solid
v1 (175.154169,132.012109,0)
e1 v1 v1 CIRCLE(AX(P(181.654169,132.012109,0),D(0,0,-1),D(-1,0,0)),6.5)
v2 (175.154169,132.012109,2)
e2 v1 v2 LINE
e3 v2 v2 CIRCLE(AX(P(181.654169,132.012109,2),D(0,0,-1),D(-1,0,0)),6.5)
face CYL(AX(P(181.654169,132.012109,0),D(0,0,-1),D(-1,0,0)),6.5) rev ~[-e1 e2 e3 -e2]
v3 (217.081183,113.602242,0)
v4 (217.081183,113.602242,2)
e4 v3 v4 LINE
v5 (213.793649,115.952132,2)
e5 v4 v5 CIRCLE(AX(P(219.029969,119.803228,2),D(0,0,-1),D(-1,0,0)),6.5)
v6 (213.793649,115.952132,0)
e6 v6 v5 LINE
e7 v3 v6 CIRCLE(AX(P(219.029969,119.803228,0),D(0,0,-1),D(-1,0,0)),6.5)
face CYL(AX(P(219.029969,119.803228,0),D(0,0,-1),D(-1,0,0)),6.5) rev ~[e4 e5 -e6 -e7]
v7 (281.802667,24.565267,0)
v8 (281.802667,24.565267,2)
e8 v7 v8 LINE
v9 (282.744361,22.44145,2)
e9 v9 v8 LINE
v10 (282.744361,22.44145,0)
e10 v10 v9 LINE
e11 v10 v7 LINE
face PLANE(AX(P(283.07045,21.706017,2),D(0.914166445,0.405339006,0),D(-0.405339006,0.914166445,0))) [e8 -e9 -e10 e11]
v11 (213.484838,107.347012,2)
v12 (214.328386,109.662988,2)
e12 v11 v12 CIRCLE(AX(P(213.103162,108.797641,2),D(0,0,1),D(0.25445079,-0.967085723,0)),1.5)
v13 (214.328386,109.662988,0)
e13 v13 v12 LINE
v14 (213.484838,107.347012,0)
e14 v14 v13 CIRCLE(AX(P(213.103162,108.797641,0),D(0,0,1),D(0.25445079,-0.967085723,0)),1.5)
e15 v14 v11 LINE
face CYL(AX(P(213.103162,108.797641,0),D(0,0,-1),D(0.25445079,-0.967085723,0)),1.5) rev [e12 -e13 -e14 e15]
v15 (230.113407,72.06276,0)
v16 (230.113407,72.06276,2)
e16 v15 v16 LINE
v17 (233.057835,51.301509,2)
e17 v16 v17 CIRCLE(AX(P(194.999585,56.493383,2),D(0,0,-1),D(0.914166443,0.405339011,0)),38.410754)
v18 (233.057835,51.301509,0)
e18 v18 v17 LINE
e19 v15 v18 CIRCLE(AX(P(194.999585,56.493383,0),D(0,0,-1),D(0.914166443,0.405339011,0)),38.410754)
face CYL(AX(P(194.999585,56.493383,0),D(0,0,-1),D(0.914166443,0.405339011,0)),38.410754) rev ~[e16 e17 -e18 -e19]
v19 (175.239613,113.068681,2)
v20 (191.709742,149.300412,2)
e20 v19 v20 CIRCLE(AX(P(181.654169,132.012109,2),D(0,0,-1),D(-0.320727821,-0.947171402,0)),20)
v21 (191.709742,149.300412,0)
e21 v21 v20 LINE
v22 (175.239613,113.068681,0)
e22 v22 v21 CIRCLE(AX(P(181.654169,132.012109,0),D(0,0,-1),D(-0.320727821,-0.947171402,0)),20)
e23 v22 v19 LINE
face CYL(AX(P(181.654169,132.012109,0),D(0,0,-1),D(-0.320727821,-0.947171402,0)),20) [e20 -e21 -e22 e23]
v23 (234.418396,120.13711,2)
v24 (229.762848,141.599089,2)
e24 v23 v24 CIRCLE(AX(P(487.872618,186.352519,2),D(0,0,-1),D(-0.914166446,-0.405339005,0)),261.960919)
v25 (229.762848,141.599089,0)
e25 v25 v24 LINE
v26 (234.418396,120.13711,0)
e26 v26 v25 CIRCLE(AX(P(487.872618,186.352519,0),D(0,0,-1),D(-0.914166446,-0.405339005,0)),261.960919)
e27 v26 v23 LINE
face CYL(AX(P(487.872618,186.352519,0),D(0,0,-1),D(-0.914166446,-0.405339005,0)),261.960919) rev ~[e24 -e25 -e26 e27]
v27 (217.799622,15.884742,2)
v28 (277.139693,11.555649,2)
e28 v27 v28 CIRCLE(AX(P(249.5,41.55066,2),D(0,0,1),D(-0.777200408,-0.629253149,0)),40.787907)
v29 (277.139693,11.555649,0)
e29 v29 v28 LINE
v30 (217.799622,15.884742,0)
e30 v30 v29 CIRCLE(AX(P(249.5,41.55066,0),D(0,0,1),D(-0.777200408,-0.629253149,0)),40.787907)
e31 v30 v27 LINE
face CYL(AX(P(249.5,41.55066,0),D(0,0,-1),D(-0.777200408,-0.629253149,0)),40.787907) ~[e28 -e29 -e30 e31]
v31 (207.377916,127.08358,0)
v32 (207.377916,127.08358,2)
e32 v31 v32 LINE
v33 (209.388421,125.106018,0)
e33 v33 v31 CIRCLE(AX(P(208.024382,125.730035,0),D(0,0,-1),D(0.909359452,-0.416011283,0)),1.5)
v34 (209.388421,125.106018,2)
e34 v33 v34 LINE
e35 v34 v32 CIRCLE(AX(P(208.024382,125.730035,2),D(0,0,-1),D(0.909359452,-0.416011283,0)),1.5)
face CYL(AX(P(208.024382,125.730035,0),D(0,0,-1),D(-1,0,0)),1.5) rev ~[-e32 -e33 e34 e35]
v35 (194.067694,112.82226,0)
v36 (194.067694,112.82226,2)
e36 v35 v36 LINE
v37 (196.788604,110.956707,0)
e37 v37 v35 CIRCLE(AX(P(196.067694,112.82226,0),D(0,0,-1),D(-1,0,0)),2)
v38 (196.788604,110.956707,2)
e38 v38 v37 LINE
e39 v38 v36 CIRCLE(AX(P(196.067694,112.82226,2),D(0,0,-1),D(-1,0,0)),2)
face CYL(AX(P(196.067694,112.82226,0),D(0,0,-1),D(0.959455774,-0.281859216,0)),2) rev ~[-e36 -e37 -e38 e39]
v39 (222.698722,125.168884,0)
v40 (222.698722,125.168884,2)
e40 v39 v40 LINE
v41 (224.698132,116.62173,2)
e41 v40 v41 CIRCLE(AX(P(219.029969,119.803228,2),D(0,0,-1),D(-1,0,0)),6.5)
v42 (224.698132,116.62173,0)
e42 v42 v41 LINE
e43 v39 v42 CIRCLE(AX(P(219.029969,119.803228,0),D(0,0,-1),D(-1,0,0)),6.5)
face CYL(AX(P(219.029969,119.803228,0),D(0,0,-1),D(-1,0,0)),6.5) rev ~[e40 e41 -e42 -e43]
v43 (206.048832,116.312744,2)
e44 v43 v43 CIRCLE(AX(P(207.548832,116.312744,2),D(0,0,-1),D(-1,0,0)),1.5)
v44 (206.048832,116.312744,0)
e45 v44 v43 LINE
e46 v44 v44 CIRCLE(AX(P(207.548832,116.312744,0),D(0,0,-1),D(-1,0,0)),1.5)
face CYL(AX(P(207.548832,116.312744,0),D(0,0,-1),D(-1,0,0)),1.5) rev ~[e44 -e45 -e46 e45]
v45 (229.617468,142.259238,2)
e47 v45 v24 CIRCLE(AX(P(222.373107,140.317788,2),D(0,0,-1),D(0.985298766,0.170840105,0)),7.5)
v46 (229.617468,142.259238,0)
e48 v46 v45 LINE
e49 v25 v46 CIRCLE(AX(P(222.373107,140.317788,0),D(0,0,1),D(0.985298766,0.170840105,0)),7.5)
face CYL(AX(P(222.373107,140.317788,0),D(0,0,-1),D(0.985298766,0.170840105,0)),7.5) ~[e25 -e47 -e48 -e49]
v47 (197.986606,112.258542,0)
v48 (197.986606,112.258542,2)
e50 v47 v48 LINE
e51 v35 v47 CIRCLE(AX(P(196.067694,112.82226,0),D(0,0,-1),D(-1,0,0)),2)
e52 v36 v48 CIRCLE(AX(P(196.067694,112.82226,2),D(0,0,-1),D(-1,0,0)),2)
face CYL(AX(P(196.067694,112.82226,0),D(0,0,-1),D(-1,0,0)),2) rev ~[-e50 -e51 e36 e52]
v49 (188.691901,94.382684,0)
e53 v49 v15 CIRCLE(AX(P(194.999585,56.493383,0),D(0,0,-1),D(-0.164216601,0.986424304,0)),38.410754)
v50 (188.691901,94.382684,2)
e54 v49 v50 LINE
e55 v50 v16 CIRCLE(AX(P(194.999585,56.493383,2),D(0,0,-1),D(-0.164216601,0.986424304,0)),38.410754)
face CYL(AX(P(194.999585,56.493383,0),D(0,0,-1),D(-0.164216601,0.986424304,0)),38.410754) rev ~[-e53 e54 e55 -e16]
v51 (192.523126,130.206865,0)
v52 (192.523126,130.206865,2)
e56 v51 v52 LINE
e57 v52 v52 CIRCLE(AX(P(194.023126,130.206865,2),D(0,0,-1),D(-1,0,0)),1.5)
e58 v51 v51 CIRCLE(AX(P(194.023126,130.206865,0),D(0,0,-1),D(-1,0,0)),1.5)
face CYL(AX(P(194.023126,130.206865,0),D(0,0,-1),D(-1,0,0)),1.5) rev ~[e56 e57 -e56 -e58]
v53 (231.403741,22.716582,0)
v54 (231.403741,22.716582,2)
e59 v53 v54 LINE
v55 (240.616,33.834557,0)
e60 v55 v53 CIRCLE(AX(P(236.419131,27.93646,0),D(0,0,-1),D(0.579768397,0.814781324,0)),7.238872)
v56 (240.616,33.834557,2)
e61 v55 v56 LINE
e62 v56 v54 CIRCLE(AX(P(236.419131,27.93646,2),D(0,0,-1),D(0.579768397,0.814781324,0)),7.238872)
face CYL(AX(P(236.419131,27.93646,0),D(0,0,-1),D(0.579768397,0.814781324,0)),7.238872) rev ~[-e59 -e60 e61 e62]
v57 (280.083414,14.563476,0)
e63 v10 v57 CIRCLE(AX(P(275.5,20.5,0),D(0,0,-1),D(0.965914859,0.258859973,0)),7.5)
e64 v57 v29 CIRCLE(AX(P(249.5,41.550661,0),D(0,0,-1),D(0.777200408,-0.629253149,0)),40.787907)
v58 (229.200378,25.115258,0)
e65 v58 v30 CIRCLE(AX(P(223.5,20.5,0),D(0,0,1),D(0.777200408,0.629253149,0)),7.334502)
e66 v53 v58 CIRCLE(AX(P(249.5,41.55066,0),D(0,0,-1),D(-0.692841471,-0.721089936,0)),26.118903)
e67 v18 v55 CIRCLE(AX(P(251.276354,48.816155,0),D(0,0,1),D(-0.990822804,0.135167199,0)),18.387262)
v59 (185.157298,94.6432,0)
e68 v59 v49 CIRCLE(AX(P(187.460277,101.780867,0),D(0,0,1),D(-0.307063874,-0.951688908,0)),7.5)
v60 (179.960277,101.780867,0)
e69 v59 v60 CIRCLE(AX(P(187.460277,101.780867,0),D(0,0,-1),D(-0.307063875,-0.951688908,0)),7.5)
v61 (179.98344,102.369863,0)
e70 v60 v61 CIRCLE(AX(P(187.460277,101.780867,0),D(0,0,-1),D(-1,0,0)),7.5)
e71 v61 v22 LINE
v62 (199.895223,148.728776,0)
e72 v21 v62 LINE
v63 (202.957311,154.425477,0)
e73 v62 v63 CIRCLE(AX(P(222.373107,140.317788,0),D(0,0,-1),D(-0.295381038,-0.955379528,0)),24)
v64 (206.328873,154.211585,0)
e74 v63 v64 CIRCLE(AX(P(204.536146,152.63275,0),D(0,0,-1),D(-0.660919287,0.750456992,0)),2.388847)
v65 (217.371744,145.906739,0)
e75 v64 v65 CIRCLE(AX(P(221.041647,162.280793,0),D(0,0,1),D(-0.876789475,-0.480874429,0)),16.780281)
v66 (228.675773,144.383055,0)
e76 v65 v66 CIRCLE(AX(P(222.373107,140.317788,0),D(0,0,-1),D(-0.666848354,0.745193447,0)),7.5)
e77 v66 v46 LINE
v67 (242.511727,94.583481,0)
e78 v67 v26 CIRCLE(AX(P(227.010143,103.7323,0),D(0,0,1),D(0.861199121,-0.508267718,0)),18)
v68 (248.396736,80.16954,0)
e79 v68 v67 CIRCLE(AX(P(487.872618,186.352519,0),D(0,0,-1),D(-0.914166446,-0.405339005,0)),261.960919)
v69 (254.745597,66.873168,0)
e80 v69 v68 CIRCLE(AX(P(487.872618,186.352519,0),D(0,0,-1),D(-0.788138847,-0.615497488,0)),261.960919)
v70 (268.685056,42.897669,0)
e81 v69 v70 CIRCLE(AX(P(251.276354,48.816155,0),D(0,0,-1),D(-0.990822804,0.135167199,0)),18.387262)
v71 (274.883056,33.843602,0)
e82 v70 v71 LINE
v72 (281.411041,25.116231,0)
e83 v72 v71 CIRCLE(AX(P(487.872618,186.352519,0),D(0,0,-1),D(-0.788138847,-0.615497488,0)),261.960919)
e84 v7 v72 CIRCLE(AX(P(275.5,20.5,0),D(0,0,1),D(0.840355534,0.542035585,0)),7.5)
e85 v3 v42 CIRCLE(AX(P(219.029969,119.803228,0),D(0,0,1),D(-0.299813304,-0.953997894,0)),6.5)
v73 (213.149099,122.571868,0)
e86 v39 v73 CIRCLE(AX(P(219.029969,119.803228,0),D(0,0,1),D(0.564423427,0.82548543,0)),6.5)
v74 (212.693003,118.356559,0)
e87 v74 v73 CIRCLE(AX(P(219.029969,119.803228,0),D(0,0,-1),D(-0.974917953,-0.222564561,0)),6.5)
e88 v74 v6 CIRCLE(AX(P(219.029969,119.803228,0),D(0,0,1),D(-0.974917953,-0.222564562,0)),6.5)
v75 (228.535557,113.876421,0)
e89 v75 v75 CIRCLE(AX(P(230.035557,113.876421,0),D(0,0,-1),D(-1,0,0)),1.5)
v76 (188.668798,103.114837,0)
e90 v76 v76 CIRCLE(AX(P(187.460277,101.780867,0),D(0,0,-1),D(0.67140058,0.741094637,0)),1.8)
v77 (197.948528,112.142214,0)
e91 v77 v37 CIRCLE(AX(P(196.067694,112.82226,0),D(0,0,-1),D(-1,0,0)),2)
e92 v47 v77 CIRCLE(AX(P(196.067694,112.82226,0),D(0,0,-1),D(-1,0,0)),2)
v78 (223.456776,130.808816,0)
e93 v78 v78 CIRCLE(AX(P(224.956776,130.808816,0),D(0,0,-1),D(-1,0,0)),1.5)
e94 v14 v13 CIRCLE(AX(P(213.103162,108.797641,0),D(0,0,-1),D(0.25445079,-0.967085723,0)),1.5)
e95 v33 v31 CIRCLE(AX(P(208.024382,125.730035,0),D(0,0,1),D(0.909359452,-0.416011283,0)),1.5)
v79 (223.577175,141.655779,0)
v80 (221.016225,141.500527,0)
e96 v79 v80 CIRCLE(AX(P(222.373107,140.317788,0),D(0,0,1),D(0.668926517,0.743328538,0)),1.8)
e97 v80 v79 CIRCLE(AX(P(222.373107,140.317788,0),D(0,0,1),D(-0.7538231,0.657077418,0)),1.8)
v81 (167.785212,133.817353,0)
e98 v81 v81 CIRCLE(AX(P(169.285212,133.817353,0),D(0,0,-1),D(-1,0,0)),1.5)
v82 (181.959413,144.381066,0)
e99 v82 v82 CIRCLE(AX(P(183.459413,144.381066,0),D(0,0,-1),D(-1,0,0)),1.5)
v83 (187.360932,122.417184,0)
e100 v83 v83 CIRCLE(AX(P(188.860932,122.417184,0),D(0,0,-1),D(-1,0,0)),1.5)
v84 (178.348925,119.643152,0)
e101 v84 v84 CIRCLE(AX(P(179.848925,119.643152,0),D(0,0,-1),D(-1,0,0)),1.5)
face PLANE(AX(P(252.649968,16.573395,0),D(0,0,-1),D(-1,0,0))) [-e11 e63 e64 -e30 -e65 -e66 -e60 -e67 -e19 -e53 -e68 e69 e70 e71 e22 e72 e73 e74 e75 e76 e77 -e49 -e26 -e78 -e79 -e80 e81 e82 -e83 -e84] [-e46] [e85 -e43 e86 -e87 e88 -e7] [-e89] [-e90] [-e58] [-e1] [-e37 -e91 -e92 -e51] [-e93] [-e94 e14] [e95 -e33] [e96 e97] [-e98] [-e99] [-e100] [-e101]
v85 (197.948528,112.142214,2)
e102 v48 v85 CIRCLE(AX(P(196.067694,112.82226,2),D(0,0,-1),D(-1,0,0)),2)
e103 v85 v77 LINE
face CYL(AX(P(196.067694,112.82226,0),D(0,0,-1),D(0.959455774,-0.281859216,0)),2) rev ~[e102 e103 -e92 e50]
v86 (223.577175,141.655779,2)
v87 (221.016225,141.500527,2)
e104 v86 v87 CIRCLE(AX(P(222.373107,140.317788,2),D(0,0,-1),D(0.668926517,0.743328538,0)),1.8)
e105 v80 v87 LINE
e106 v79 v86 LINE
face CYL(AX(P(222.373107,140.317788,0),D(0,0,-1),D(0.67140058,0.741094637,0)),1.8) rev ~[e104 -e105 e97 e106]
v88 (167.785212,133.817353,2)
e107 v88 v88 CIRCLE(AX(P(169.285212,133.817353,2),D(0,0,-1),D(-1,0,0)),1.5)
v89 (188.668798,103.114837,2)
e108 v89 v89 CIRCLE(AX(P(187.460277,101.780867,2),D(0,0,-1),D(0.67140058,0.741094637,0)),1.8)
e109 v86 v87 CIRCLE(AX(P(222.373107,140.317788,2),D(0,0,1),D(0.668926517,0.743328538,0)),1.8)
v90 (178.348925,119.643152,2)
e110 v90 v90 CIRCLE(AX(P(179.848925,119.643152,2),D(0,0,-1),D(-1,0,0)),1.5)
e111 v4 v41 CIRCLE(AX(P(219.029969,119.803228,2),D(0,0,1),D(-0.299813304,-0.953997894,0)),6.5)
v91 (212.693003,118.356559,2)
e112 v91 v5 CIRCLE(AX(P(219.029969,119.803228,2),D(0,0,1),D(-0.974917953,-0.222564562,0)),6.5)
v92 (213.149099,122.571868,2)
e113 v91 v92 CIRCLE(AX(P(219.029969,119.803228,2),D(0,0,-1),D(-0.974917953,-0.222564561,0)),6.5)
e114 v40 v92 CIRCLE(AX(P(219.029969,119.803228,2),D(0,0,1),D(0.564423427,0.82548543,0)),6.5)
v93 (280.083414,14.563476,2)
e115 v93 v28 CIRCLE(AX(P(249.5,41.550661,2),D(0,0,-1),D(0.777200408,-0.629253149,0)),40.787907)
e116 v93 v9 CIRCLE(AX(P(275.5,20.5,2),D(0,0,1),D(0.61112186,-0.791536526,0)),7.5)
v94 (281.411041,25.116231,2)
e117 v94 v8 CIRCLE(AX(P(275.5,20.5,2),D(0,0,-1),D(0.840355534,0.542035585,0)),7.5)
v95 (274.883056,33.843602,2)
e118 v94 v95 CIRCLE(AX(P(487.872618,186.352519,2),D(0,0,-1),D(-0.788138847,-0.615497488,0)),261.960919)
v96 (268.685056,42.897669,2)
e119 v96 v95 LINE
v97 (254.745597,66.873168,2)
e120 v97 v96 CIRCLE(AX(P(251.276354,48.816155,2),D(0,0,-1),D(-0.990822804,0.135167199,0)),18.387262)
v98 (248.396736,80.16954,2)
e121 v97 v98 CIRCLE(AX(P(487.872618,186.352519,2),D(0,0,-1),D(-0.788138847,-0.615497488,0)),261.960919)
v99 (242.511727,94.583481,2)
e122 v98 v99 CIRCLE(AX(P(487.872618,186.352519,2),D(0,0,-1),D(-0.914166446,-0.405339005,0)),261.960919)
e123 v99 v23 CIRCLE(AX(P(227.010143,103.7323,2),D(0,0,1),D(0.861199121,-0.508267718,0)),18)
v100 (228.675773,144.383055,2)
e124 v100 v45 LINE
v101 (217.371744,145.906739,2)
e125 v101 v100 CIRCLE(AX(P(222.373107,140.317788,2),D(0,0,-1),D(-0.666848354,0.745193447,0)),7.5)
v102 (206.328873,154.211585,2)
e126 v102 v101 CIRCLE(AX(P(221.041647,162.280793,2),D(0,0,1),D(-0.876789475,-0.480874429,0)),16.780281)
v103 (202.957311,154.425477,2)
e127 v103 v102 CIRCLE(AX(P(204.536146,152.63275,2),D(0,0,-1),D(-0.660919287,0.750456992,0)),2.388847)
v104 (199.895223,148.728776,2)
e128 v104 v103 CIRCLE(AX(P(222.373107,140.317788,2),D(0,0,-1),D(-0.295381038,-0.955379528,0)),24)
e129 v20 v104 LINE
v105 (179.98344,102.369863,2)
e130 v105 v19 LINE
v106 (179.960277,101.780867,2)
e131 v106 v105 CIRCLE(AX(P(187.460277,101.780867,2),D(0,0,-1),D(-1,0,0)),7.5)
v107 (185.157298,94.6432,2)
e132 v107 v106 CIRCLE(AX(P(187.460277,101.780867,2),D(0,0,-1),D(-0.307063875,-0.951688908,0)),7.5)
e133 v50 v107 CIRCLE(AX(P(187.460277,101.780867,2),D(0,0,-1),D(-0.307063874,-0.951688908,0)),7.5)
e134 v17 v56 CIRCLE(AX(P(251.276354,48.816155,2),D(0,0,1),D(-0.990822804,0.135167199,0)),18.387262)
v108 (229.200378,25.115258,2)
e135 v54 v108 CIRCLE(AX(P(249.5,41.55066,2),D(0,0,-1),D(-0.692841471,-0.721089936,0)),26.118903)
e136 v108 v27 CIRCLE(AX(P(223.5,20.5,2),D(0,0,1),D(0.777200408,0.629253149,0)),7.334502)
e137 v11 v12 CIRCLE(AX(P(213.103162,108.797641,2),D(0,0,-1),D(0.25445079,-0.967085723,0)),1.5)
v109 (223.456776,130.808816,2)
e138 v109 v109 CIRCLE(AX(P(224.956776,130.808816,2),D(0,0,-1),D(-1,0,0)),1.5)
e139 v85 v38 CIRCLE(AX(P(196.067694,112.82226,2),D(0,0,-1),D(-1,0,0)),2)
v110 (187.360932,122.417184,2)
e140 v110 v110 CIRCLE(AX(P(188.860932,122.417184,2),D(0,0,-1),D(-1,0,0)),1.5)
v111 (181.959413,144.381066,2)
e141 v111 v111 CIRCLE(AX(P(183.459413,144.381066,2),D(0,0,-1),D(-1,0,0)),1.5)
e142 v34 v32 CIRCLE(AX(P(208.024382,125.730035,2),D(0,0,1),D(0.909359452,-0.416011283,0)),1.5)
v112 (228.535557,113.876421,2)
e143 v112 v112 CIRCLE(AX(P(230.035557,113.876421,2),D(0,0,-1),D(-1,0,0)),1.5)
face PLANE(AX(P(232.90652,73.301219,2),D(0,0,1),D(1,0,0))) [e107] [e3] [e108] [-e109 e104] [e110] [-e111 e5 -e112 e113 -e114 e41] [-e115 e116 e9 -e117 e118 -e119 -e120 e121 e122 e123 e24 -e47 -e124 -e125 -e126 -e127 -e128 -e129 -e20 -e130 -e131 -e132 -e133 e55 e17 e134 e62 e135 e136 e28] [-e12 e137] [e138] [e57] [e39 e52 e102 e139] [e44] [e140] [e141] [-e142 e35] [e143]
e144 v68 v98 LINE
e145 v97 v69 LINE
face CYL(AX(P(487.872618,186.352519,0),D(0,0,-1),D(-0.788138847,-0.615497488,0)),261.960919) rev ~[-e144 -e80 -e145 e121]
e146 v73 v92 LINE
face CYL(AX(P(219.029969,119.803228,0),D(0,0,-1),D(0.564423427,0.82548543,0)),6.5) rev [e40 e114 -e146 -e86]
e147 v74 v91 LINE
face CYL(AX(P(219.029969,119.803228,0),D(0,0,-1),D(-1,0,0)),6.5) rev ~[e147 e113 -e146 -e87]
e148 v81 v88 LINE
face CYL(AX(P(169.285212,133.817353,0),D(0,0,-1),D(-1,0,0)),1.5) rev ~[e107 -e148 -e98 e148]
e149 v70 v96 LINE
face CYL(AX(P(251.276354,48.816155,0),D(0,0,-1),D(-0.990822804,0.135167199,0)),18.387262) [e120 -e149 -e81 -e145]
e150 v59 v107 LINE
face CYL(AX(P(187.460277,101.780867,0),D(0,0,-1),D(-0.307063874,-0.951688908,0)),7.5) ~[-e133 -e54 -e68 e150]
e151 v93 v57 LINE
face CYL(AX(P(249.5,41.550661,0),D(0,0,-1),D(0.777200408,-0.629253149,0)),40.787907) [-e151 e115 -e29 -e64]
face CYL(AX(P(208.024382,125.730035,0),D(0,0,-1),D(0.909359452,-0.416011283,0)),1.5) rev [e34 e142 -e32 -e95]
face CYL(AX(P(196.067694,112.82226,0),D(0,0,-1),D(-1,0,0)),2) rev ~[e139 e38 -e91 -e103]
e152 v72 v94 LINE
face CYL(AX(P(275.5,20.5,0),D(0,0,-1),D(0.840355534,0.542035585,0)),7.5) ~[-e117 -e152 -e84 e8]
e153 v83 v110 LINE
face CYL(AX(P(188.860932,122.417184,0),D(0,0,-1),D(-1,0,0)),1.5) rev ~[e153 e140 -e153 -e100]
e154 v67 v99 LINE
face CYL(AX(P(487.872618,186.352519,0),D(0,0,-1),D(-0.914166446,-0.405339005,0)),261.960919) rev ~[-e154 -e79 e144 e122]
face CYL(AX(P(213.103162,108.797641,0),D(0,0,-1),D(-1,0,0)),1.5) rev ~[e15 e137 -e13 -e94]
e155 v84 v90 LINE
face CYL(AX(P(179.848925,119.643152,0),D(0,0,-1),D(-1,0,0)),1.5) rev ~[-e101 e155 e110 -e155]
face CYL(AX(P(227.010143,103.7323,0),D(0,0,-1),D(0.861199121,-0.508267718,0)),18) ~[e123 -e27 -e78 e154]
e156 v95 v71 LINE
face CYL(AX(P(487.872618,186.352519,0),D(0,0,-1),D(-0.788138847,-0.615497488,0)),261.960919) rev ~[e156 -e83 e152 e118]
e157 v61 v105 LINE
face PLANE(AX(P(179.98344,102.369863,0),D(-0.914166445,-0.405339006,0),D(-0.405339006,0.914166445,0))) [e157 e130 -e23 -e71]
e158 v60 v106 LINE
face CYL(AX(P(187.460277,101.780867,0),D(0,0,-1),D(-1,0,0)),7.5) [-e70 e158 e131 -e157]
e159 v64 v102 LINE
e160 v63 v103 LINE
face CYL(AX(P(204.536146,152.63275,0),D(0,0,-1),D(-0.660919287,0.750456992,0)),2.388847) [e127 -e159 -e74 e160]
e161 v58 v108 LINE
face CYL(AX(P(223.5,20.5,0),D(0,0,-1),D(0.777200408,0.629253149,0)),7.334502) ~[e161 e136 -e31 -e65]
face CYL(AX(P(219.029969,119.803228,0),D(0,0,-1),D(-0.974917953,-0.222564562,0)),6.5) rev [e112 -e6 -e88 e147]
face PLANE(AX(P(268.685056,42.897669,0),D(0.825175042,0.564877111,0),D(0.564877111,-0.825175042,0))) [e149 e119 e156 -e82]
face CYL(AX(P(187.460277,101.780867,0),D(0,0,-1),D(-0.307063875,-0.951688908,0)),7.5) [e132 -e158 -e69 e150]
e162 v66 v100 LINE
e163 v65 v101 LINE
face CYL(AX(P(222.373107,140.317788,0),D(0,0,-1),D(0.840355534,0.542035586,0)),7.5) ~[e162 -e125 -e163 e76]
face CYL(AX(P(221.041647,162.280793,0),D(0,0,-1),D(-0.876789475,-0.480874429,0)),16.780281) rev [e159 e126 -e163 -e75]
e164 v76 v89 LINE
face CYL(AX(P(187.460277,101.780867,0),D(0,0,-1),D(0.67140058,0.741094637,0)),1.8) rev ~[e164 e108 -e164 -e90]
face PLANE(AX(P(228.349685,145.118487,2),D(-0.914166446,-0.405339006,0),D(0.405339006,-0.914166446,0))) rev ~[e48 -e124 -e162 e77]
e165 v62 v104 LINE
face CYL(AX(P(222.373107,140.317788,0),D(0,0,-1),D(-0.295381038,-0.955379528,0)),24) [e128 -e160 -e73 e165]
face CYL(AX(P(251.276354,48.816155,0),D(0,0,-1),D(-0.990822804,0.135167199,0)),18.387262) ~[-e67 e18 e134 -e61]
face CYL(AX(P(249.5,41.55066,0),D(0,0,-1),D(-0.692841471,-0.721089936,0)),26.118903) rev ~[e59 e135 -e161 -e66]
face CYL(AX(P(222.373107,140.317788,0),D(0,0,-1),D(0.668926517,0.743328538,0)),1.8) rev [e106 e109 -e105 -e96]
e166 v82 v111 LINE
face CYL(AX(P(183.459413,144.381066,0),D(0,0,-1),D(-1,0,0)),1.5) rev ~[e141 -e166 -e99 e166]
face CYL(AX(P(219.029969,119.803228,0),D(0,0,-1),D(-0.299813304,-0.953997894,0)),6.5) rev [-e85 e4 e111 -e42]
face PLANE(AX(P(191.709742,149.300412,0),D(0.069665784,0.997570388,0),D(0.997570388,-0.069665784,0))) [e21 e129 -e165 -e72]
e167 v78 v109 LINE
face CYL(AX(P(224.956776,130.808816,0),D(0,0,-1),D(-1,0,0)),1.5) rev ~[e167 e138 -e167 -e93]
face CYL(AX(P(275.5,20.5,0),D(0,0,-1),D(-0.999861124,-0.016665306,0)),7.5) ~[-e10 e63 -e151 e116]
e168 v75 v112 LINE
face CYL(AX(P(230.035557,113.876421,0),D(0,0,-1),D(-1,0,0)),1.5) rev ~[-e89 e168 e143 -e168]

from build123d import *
from build123d.topology import SkipClean

# Parameters (mm, degrees)
SKETCH1_R            = 1.8
SKETCH1_R_2          = 2.75
EXTRUDE2_DEPTH       = 2
EXTRUDE3_START       = -2
EXTRUDE3_DEPTH       = 2
EXTRUDE4_DEPTH       = 2
EXTRUDE5_DEPTH       = 10
SKETCH5_R            = 3
EXTRUDE6_DEPTH       = 55
BOSS_EXTRUDE2_DEPTH  = 2
CUT_EXTRUDE2_DEPTH   = 10
BOSS_EXTRUDE3_DEPTH  = 2
CUT_EXTRUDE3_DEPTH   = 10
BOSS_EXTRUDE4_DEPTH  = 2
BOSS_EXTRUDE5_DEPTH  = 2
SKETCH11_R           = 3
CUT_EXTRUDE4_DEPTH   = 10
BOSS_EXTRUDE6_DEPTH  = 2
BOSS_EXTRUDE7_DEPTH  = 2
SKETCH16_R           = 3.342245342
SKETCH16_R_2         = 2
BOSS_EXTRUDE8_DEPTH  = 2
CUT_EXTRUDE5_DEPTH   = 2
SKETCH17_R           = 1.5
SKETCH17_R_2         = 6.5
SKETCH17_R_3         = 3
BOSS_EXTRUDE9_DEPTH  = 2
SKETCH17_2_R         = 1.5
SKETCH17_2_R_2       = 6.5
CUT_EXTRUDE6_DEPTH   = 2
BOSS_EXTRUDE11_DEPTH = 2
CUT_EXTRUDE8_DEPTH   = 2


with BuildPart() as part:
    # Sketch1 → Extrude2 (new body)
    with BuildSketch(Plane.XY):
        with BuildLine():
            Line((214.950942091, 33.616874637), (221.807190432, 36.656917184))
            Line((221.807190432, 36.656917184), (220.185834407, 40.313582966))
            Line((220.185834407, 40.313582966), (249.033490074, 53.104557885))
            ThreePointArc((249.033490074, 53.104557885), (251.717229956, 54.156321533), (254.312398254, 52.901822418))
            Line((254.312398254, 52.901822418), (279.296283012, 23.753956867))
            ThreePointArc((279.296283012, 23.753956867), (280.042564492, 18.410715952), (275.5, 15.5))
            Line((275.5, 15.5), (223.5, 15.5))
            ThreePointArc((223.5, 15.5), (220.722148835, 16.342651938), (218.880602337, 18.586582838))
            Line((218.880602337, 18.586582838), (211.044169952, 36.260192904))
            Line((211.044169952, 36.260192904), (213.329586066, 37.27354042))
            Line((213.329586066, 37.27354042), (214.950942091, 33.616874637))
        make_face()
        with Locations((275.5, 20.5)):
            Circle(SKETCH1_R, mode=Mode.SUBTRACT)
        with Locations((251.5, 48.5)):
            Circle(SKETCH1_R_2, mode=Mode.SUBTRACT)
        with Locations((223.5, 20.5)):
            Circle(SKETCH1_R, mode=Mode.SUBTRACT)
    extrude(amount=EXTRUDE2_DEPTH)

    # Sketch2 → Extrude3 (add)
    with BuildSketch(Plane.XY.offset(2).offset(EXTRUDE3_START)):
        with BuildLine():
            Line((275.035821138, 64.633923334), (251.401662381, 54.15459928))
            ThreePointArc((251.401662381, 54.15459928), (253.0022869, 53.865703947), (254.312398254, 52.901822418))
            Line((254.312398254, 52.901822418), (265.867761021, 39.420565857))
            Line((265.867761021, 39.420565857), (282.872253523, 46.960313268))
            Line((282.872253523, 46.960313268), (275.035821138, 64.633923334))
        make_face()
        with BuildLine():
            Line((264.774418622, 15.5), (268.520870849, 7.050576522))
            Line((268.520870849, 7.050576522), (295.302771445, 18.925601058))
            Line((295.302771445, 18.925601058), (282.872253523, 46.960313268))
            Line((282.872253523, 46.960313268), (265.867761021, 39.420565857))
            Line((265.867761021, 39.420565857), (279.296283012, 23.753956867))
            ThreePointArc((279.296283012, 23.753956867), (280.042564492, 18.410715952), (275.5, 15.5))
            Line((275.5, 15.5), (264.774418622, 15.5))
        make_face()
        with BuildLine():
            ThreePointArc((223.5, 15.5), (222.085748932, 15.704179537), (220.787002315, 16.300042433))
            ThreePointArc((220.787002315, 16.300042433), (243.759401886, 7.058869787), (268.520870849, 7.050576522))
            Line((268.520870849, 7.050576522), (264.774418622, 15.5))
            Line((264.774418622, 15.5), (223.5, 15.5))
        make_face()
        with BuildLine():
            Line((295.302771445, 18.925601058), (268.520870849, 7.050576522))
            ThreePointArc((268.520870849, 7.050576522), (282.58749462, 11.46423343), (295.302771445, 18.925601058))
        make_face()
    extrude(amount=EXTRUDE3_DEPTH)


with BuildPart() as body_2:
    # Mirror2: mirrored copy
    add(part.part.mirror(Plane(origin=(11.104903497, -25.045036387, 0), x_dir=(0, 0, 1), z_dir=(-0.4053390061385553, 0.9141664455134023, 0))))


with BuildPart() as part_1:
    add(part.part)

    add(body_2.part)  # Extrude4 merges body 2
    # Sketch3 → Extrude4 (add)
    with BuildSketch(Plane.XY.offset(2)):
        Polygon((275.035821138, 64.633923334), (254.768870831, 110.34224561), (190.777219645, 81.96851518), (211.044169952, 36.260192904), align=None)
    extrude(amount=-EXTRUDE4_DEPTH)

    # Sketch4 → Extrude5 (cut)
    with BuildSketch(Plane.XY.offset(2)):
        Polygon((262.406775751, 78.177359931), (258.750109969, 76.556003907), (252.670024877, 90.26850059), (256.326690659, 91.889856614), align=None)
        Polygon((286.72711612, 23.327373201), (283.070450338, 21.706017176), (276.990365245, 35.418513859), (280.647031028, 37.039869883), align=None)
        Polygon((234.429769601, 131.405990638), (238.086435383, 133.027346662), (232.006350291, 146.739843345), (228.349684509, 145.11848732), align=None)
    extrude(amount=-EXTRUDE5_DEPTH, mode=Mode.SUBTRACT)

    # Sketch5 → Extrude6 (cut)
    with BuildSketch(Plane.XY.offset(2)):
        with Locations((239.255071404, 76.116150138)):
            Circle(SKETCH5_R)
    extrude(amount=-EXTRUDE6_DEPTH, mode=Mode.SUBTRACT)

    # Sketch8 → Boss-Extrude2 (add)
    with BuildSketch(Plane(origin=(0, 0, 0), x_dir=(-1, 0, 0), z_dir=(0, 0, -1))):
        Polygon((-198.724451181, 91.591049062), (-189.767325125, 87.770757271), (-210.762968813, 38.543986786), (-219.72009487, 42.364278577), align=None)
    extrude(amount=-BOSS_EXTRUDE2_DEPTH)

    # Sketch6 → Cut-Extrude2 (cut)
    with BuildSketch(Plane.XY.offset(2)):
        Polygon((215.30566699, 32.68026603), (222.161915332, 35.720308576), (220.540559307, 39.376974358), (213.684310966, 36.336931812), align=None)
    cut_extrude2 = extrude(amount=-CUT_EXTRUDE2_DEPTH, mode=Mode.SUBTRACT)

    # Mirror3: Cut-Extrude2 across plane
    add(cut_extrude2.mirror(Plane(origin=(11.104903497, -25.045036387, 0), x_dir=(0, 0, 1), z_dir=(-0.4053390061385553, 0.9141664455134023, 0))), mode=Mode.SUBTRACT)

    # Sketch7 → Boss-Extrude3 (add)
    with BuildSketch(Plane(origin=(0, 0, 0), x_dir=(-1, 0, 0), z_dir=(0, 0, -1))):
        Polygon((-211.798895028, 37.450463228), (-220.540559307, 42.086184193), (-224.569673151, 34.488410116), (-215.828008872, 29.852689152), align=None)
        Polygon((-222.161915332, 35.720308576), (-215.30566699, 32.68026603), (-213.684310966, 36.336931812), (-220.540559307, 39.376974358), align=None, mode=Mode.SUBTRACT)
    extrude(amount=-BOSS_EXTRUDE3_DEPTH)

    # Sketch9 → Cut-Extrude3 (cut)
    # profile 1 of 2: a face of its own
    with BuildSketch(Plane(origin=(0, 0, 0), x_dir=(-1, 0, 0), z_dir=(0, 0, -1))):
        with BuildLine():
            ThreePointArc((-219.146363738, 109.909757579), (-206.3092142, 102.916198704), (-192.4024525, 107.422222786))
            ThreePointArc((-192.4024525, 107.422222786), (-188.200798595, 109.244218974), (-183.723031197, 108.283404333))
            ThreePointArc((-183.723031197, 108.283404333), (-202.191395683, 139.524441278), (-234.501920524, 156.050567885))
            Line((-234.501920524, 156.050567885), (-295.302771445, 18.925601058))
            ThreePointArc((-295.302771445, 18.925601058), (-261.362042522, 6.076095375), (-225.809806958, 13.364539832))
            ThreePointArc((-225.809806958, 13.364539832), (-229.528237165, 16.037897729), (-230.998958431, 20.375010202))
            ThreePointArc((-230.998958431, 20.375010202), (-236.996576126, 33.706583992), (-250.798334924, 38.524647068))
            ThreePointArc((-250.798334924, 38.524647068), (-262.929674492, 32.795643116), (-268.001041569, 20.375010202))
            ThreePointArc((-268.001041569, 20.375010202), (-276.541032207, 13.072601267), (-282.744361441, 22.441449797))
            Line((-282.744361441, 22.441449797), (-283.070450338, 21.706017176))
            Line((-283.070450338, 21.706017176), (-286.72711612, 23.327373201))
            Line((-286.72711612, 23.327373201), (-280.647031028, 37.039869883))
            Line((-280.647031028, 37.039869883), (-276.990365245, 35.418513859))
            Line((-276.990365245, 35.418513859), (-281.802666507, 24.565266892))
            ThreePointArc((-281.802666507, 24.565266892), (-281.613064316, 24.845163365), (-281.411041354, 25.116231158))
            ThreePointArc((-281.411041354, 25.116231158), (-263.21115929, 51.627791867), (-248.39673574, 80.169540469))
            ThreePointArc((-248.39673574, 80.169540469), (-237.191011643, 110.311376626), (-229.762847648, 141.599088576))
            ThreePointArc((-229.762847648, 141.599088576), (-229.697599093, 141.930801784), (-229.617468339, 142.259237605))
            Line((-229.617468339, 142.259237605), (-234.429769601, 131.405990638))
            Line((-234.429769601, 131.405990638), (-238.086435383, 133.027346662))
            Line((-238.086435383, 133.027346662), (-232.006350291, 146.739843345))
            Line((-232.006350291, 146.739843345), (-228.349684509, 145.11848732))
            Line((-228.349684509, 145.11848732), (-228.675773406, 144.3830547))
            ThreePointArc((-228.675773406, 144.3830547), (-220.254144747, 147.512230066), (-214.873106899, 140.317787808))
            ThreePointArc((-214.873106899, 140.317787808), (-215.491764103, 137.334983534), (-217.245672588, 134.844268155))
            ThreePointArc((-217.245672588, 134.844268155), (-223.045618241, 122.746684929), (-219.146363738, 109.909757579))
        make_face()
        Polygon((-252.670024877, 90.26850059), (-258.750109969, 76.556003907), (-262.406775751, 78.177359931), (-256.326690659, 91.889856614), align=None, mode=Mode.SUBTRACT)
    # profile 2 of 2: a face of its own
    with BuildSketch(Plane(origin=(0, 0, 0), x_dir=(-1, 0, 0), z_dir=(0, 0, -1))):
        with BuildLine():
            ThreePointArc((-185.157297666, 94.64319988), (-186.908989848, 94.301155277), (-188.691901235, 94.382684405))
            ThreePointArc((-188.691901235, 94.382684405), (-213.220264161, 90.307475736), (-230.113406869, 72.062760256))
            ThreePointArc((-230.113406869, 72.062760256), (-232.292402054, 47.293830066), (-218.844160197, 26.379894193))
            ThreePointArc((-218.844160197, 26.379894193), (-217.586691658, 25.113326831), (-216.664091931, 23.585508204))
            Line((-216.664091931, 23.585508204), (-185.157297666, 94.64319988))
        make_face()
        Polygon((-215.30566699, 32.68026603), (-222.161915332, 35.720308576), (-220.540559307, 39.376974358), (-213.684310966, 36.336931812), align=None, mode=Mode.SUBTRACT)
        Polygon((-197.841574963, 90.570295307), (-190.985326622, 87.530252761), (-192.606682647, 83.873586979), (-199.462930988, 86.913629525), align=None, mode=Mode.SUBTRACT)
    extrude(amount=-CUT_EXTRUDE3_DEPTH, mode=Mode.SUBTRACT)

    # Sketch9<3> → Boss-Extrude4 (add)
    with SkipClean():  # the faces are left unmerged after this step: merging them gives an invalid solid
        with BuildSketch(Plane(origin=(0, 0, 0), x_dir=(-1, 0, 0), z_dir=(0, 0, -1))):
            with BuildLine():
                ThreePointArc((-179.960276728, 101.780866687), (-180.968769142, 105.537238508), (-183.723031197, 108.283404333))
                ThreePointArc((-183.723031197, 108.283404333), (-183.061079526, 105.450124932), (-182.526202408, 102.590132162))
                ThreePointArc((-182.526202408, 102.590132162), (-182.508998785, 101.084557319), (-182.94078726, 99.642125246))
                Line((-182.94078726, 99.642125246), (-185.157297666, 94.64319988))
                ThreePointArc((-185.157297666, 94.64319988), (-181.397177563, 97.366251356), (-179.960276728, 101.780866687))
            make_face()
            with BuildLine():
                ThreePointArc((-216, 20.5), (-216.167902397, 22.078082616), (-216.664091931, 23.585508204))
                Line((-216.664091931, 23.585508204), (-218.880602337, 18.586582838))
                ThreePointArc((-218.880602337, 18.586582838), (-219.659677978, 17.298136985), (-220.787001942, 16.300042674))
                ThreePointArc((-220.787001942, 16.300042674), (-223.265644053, 14.776236432), (-225.809806958, 13.364539832))
                ThreePointArc((-225.809806958, 13.364539832), (-219.088285605, 14.434789691), (-216, 20.5))
            make_face()
        extrude(amount=-BOSS_EXTRUDE4_DEPTH)

    # Sketch10 → Boss-Extrude5 (add)
    with SkipClean():  # the faces are left unmerged after this step: merging them gives an invalid solid
        with BuildSketch(Plane(origin=(0, 0, 0), x_dir=(-1, 0, 0), z_dir=(0, 0, -1))):
            with BuildLine():
                ThreePointArc((-235.958744639, 114.499032615), (-240.356731212, 107.959424354), (-240.525431642, 100.080318931))
                ThreePointArc((-240.525431642, 100.080318931), (-240.529519907, 96.974501167), (-242.511726994, 94.58348135))
                ThreePointArc((-242.511726994, 94.58348135), (-244.170042184, 109.167174091), (-234.418395851, 120.137110145))
                ThreePointArc((-234.418395851, 120.137110145), (-234.3000474, 117.07532284), (-235.958744639, 114.499032615))
            make_face()
            with BuildLine():
                ThreePointArc((-213.057679374, 104.885020596), (-211.080001731, 104.010099861), (-209.013751259, 103.371896019))
                ThreePointArc((-209.013751259, 103.371896019), (-212.855340343, 114.851723245), (-223.099104635, 121.302268415))
                ThreePointArc((-223.099104635, 121.302268415), (-222.968296994, 119.143661337), (-222.586531621, 117.015058425))
                ThreePointArc((-222.586531621, 117.015058425), (-216.000852002, 112.380740363), (-213.057679374, 104.885020596))
            make_face()
            with BuildLine():
                ThreePointArc((-239.150118611, 35.404946366), (-241.010369821, 36.507743079), (-242.986582803, 37.385967085))
                ThreePointArc((-242.986582803, 37.385967085), (-250.517668332, 34.534505934), (-258.373765711, 36.303633945))
                ThreePointArc((-258.373765711, 36.303633945), (-260.207579406, 35.157412985), (-261.895135861, 33.805063782))
                ThreePointArc((-261.895135861, 33.805063782), (-250.237002141, 30.544364773), (-239.150118611, 35.404946366))
            make_face()
            with BuildLine():
                ThreePointArc((-268.631422006, 42.976017735), (-261.826080652, 42.099863238), (-265.487264056, 47.902970486))
                ThreePointArc((-265.487264056, 47.902970486), (-263.593606182, 55.552991529), (-257.867708976, 60.968050465))
                ThreePointArc((-257.867708976, 60.968050465), (-255.684077657, 63.117539269), (-255.127631976, 66.130663239))
                ThreePointArc((-255.127631976, 66.130663239), (-267.048922235, 57.568131966), (-268.631422006, 42.976017735))
            make_face()
        extrude(amount=-BOSS_EXTRUDE5_DEPTH)

    # Sketch11 → Cut-Extrude4 (cut)
    with SkipClean():  # the faces are left unmerged after this step: merging them gives an invalid solid
        with BuildSketch(Plane(origin=(0, 0, 0), x_dir=(-1, 0, 0), z_dir=(0, 0, -1))):
            with Locations((-227.010142808, 103.732300275)):
                Circle(SKETCH11_R)
            with BuildLine():
                ThreePointArc((-213.058581143, 104.895884011), (-216.676051769, 113.177222848), (-224.599393661, 117.52317728))
                ThreePointArc((-224.599393661, 117.52317728), (-221.843097289, 108.454761562), (-213.058581143, 104.895884011))
            make_face()
            with BuildLine():
                ThreePointArc((-216.272267555, 94.74909177), (-225.503894125, 96.89627695), (-232.978230566, 91.068101583))
                ThreePointArc((-232.978230566, 91.068101583), (-223.997645443, 90.060253625), (-216.272267555, 94.74909177))
            make_face()
            with BuildLine():
                ThreePointArc((-240.158767208, 98.924631776), (-233.68343701, 105.845862315), (-234.993616715, 115.232915232))
                ThreePointArc((-234.993616715, 115.232915232), (-240.356731212, 107.959424354), (-240.158767208, 98.924631776))
            make_face()
        cut_extrude4 = extrude(amount=-CUT_EXTRUDE4_DEPTH, mode=Mode.SUBTRACT)

    # Sketch13 → Boss-Extrude6 (add)
    with BuildSketch(Plane(origin=(0, 0, 0), x_dir=(-1, 0, 0), z_dir=(0, 0, -1))):
        with BuildLine():
            ThreePointArc((-221.016225319, 141.500527161), (-218.054735197, 141.716298083), (-215.154232385, 142.351958587))
            ThreePointArc((-215.154232385, 142.351958587), (-216.00972223, 144.28733886), (-217.371744244, 145.906738657))
            ThreePointArc((-217.371744244, 145.906738657), (-222.057051315, 145.531261724), (-226.662688019, 146.469982035))
            ThreePointArc((-226.662688019, 146.469982035), (-227.771045753, 145.524730877), (-228.675773406, 144.3830547))
            Line((-228.675773406, 144.3830547), (-229.617468339, 142.259237605))
            ThreePointArc((-229.617468339, 142.259237605), (-229.697599093, 141.930801784), (-229.762847648, 141.599088576))
            ThreePointArc((-229.762847648, 141.599088576), (-231.865618613, 130.819291514), (-234.418395851, 120.137110145))
            Line((-234.418395851, 120.137110145), (-227.995019703, 140.663401272))
            ThreePointArc((-227.995019703, 140.663401272), (-227.083713367, 141.799635698), (-225.643399707, 142.016440843))
            ThreePointArc((-225.643399707, 142.016440843), (-224.61484051, 141.810023984), (-223.577174628, 141.655779176))
            ThreePointArc((-223.577174628, 141.655779176), (-222.264185757, 142.114489281), (-221.016225319, 141.500527161))
        make_face()
        with BuildLine():
            ThreePointArc((-203.346022961, 146.479774244), (-205.604715324, 129.417281213), (-220.281674353, 120.427440654))
            ThreePointArc((-220.281674353, 120.427440654), (-217.65856338, 119.112416082), (-215.283961995, 117.388679135))
            ThreePointArc((-215.283961995, 117.388679135), (-199.601215049, 132.738807559), (-202.957311315, 154.425476558))
            ThreePointArc((-202.957311315, 154.425476558), (-204.68739073, 155.016803958), (-206.328873231, 154.211584687))
            ThreePointArc((-206.328873231, 154.211584687), (-210.955849283, 148.869807849), (-217.371744244, 145.906738657))
            ThreePointArc((-217.371744244, 145.906738657), (-216.00972223, 144.28733886), (-215.154232385, 142.351958587))
            ThreePointArc((-215.154232385, 142.351958587), (-210.596914714, 144.316170629), (-206.635274013, 147.304928943))
            ThreePointArc((-206.635274013, 147.304928943), (-204.76208278, 147.803465588), (-203.346022961, 146.479774244))
        make_face()
    boss_extrude6 = extrude(amount=-BOSS_EXTRUDE6_DEPTH)

    # Sketch14 → Boss-Extrude7 (add)
    with SkipClean():  # the faces are left unmerged after this step: merging them gives an invalid solid
        with BuildSketch(Plane(origin=(0, 0, 0), x_dir=(-1, 0, 0), z_dir=(0, 0, -1))):
            with BuildLine():
                Line((-204.620489613, 124.167104246), (-201.438511078, 128.5814043))
                ThreePointArc((-201.438511078, 128.5814043), (-196.896529827, 117.158820126), (-187.460276728, 109.280866687))
                Line((-187.460276728, 109.280866687), (-192.367992506, 107.452226827))
                ThreePointArc((-192.367992506, 107.452226827), (-200.038082842, 114.677984071), (-204.620489613, 124.167104246))
            make_face()
        boss_extrude7 = extrude(amount=-BOSS_EXTRUDE7_DEPTH)

    # Mirror5: Cut-Extrude4, Boss-Extrude6, Boss-Extrude7 across plane
    with SkipClean():  # the faces are left unmerged after this step: merging them gives an invalid solid
        add(cut_extrude4.mirror(Plane(origin=(11.104903497, -25.045036387, 0), x_dir=(0, 0, 1), z_dir=(-0.4053390061385553, 0.9141664455134023, 0))), mode=Mode.SUBTRACT)
        add(boss_extrude6.mirror(Plane(origin=(11.104903497, -25.045036387, 0), x_dir=(0, 0, 1), z_dir=(-0.4053390061385553, 0.9141664455134023, 0))))
        add(boss_extrude7.mirror(Plane(origin=(11.104903497, -25.045036387, 0), x_dir=(0, 0, 1), z_dir=(-0.4053390061385553, 0.9141664455134023, 0))))

    # Sketch16 → Boss-Extrude8 (add)
    with SkipClean():  # the faces are left unmerged after this step: merging them gives an invalid solid
        with BuildSketch(Plane(origin=(0, 0, 0), x_dir=(-1, 0, 0), z_dir=(0, 0, -1))):
            with Locations((-196.067694097, 112.822259998)):
                Circle(SKETCH16_R)
            with Locations((-196.067694097, 112.822259998)):
                Circle(SKETCH16_R_2, mode=Mode.SUBTRACT)
        extrude(amount=-BOSS_EXTRUDE8_DEPTH)

    # Sketch16<3> → Cut-Extrude5 (cut)
    with SkipClean():  # the faces are left unmerged after this step: merging them gives an invalid solid
        with BuildSketch(Plane(origin=(0, 0, 0), x_dir=(-1, 0, 0), z_dir=(0, 0, -1))):
            with BuildLine():
                ThreePointArc((-194.067694097, 112.822259998), (-196.352454438, 114.80188409), (-197.986605645, 112.258541565))
                ThreePointArc((-197.986605645, 112.258541565), (-195.782933755, 110.842635905), (-194.067694097, 112.822259998))
            make_face()
        extrude(amount=-CUT_EXTRUDE5_DEPTH, mode=Mode.SUBTRACT)

    # Sketch17 → Boss-Extrude9 (add)
    # profile 1 of 12: a face of its own
    with SkipClean():  # the faces are left unmerged after this step: merging them gives an invalid solid
        with BuildSketch(Plane(origin=(0, 0, 0), x_dir=(-1, 0, 0), z_dir=(0, 0, -1))):
            with BuildLine():
                ThreePointArc((-195.256872657, 109.579857721), (-198.456654349, 110.484852708), (-199.291638938, 113.703613267))
                ThreePointArc((-199.291638938, 113.703613267), (-202.49110624, 118.662872381), (-204.620489613, 124.167104246))
                ThreePointArc((-204.620489613, 124.167104246), (-208.352437733, 120.839060022), (-212.693002536, 118.3565588))
                ThreePointArc((-212.693002536, 118.3565588), (-213.119760912, 117.097782535), (-213.793648584, 115.952131715))
                ThreePointArc((-213.793648584, 115.952131715), (-210.183775342, 110.125527777), (-209.013751259, 103.371896019))
                ThreePointArc((-209.013751259, 103.371896019), (-200.212222832, 103.363348178), (-192.4024525, 107.422222786))
                ThreePointArc((-192.4024525, 107.422222786), (-192.385245352, 107.437251049), (-192.367992506, 107.452226827))
                ThreePointArc((-192.367992506, 107.452226827), (-193.845361891, 108.471331122), (-195.256872657, 109.579857721))
            make_face()
            with Locations((-207.548831665, 116.312744223)):
                Circle(SKETCH17_R, mode=Mode.SUBTRACT)
        # profile 2 of 12: a face of its own
        with BuildSketch(Plane(origin=(0, 0, 0), x_dir=(-1, 0, 0), z_dir=(0, 0, -1))):
            with BuildLine():
                ThreePointArc((-201.438511078, 128.5814043), (-199.641859665, 122.008004027), (-196.137202482, 116.163782482))
                ThreePointArc((-196.137202482, 116.163782482), (-193.678733844, 115.159667287), (-192.728482775, 112.679881355))
                ThreePointArc((-192.728482775, 112.679881355), (-190.201332664, 110.814605398), (-187.460276728, 109.280866687))
                ThreePointArc((-187.460276728, 109.280866687), (-182.36947479, 107.288473756), (-179.983440264, 102.369862856))
                Line((-179.983440264, 102.369862856), (-175.239612501, 113.06868063))
                ThreePointArc((-175.239612501, 113.06868063), (-163.447059079, 140.28865089), (-191.709742076, 149.300412479))
                Line((-191.709742076, 149.300412479), (-199.8952226, 148.728775707))
                ThreePointArc((-199.8952226, 148.728775707), (-198.443209256, 138.484757852), (-201.438511078, 128.5814043))
            make_face()
            with Locations((-194.023125782, 130.206864575)):
                Circle(SKETCH17_R, mode=Mode.SUBTRACT)
            with Locations((-188.86093151, 122.417184334)):
                Circle(SKETCH17_R, mode=Mode.SUBTRACT)
            with Locations((-179.848924828, 119.643151812)):
                Circle(SKETCH17_R, mode=Mode.SUBTRACT)
            with Locations((-181.654168924, 132.01210867)):
                Circle(SKETCH17_R_2, mode=Mode.SUBTRACT)
            with Locations((-169.285212066, 133.817352766)):
                Circle(SKETCH17_R, mode=Mode.SUBTRACT)
            with Locations((-183.45941302, 144.381065528)):
                Circle(SKETCH17_R, mode=Mode.SUBTRACT)
        # profile 3 of 12: a face of its own
        with BuildSketch(Plane(origin=(0, 0, 0), x_dir=(-1, 0, 0), z_dir=(0, 0, -1))):
            with BuildLine():
                ThreePointArc((-214.328386474, 109.662987949), (-215.534492293, 111.751617282), (-217.081182757, 113.602242135))
                ThreePointArc((-217.081182757, 113.602242135), (-221.425332768, 113.760693092), (-224.69813186, 116.62172999))
                ThreePointArc((-224.69813186, 116.62172999), (-221.536685138, 108.132812492), (-213.07667556, 104.894803289))
                ThreePointArc((-213.07667556, 104.894803289), (-213.067178879, 104.8899092), (-213.057679374, 104.885020596))
                ThreePointArc((-213.057679374, 104.885020596), (-213.216220916, 106.125565582), (-213.484838466, 107.347012222))
                ThreePointArc((-213.484838466, 107.347012222), (-214.512583474, 108.284287223), (-214.328386474, 109.662987949))
            make_face()
        # profile 4 of 12: a face of its own
        with BuildSketch(Plane(origin=(0, 0, 0), x_dir=(-1, 0, 0), z_dir=(0, 0, -1))):
            with BuildLine():
                ThreePointArc((-222.698721508, 125.168883745), (-217.324246654, 126.075429855), (-213.149098888, 122.57186782))
                ThreePointArc((-213.149098888, 122.57186782), (-211.196703017, 123.732010881), (-209.38842077, 125.106018478))
                ThreePointArc((-209.38842077, 125.106018478), (-209.076244393, 126.799420575), (-207.37791632, 127.083579879))
                ThreePointArc((-207.37791632, 127.083579879), (-202.791690204, 136.247392222), (-203.346022961, 146.479774244))
                ThreePointArc((-203.346022961, 146.479774244), (-204.76208278, 147.803465588), (-206.635274013, 147.304928943))
                ThreePointArc((-206.635274013, 147.304928943), (-210.596914714, 144.316170629), (-215.154232385, 142.351958587))
                ThreePointArc((-215.154232385, 142.351958587), (-215.148206256, 138.305125218), (-217.245672588, 134.844268155))
                ThreePointArc((-217.245672588, 134.844268155), (-220.715243365, 130.425357028), (-222.698721508, 125.168883745))
            make_face()
        # profile 5 of 12: a face of its own
        with BuildSketch(Plane(origin=(0, 0, 0), x_dir=(-1, 0, 0), z_dir=(0, 0, -1))):
            with BuildLine():
                ThreePointArc((-240.158767208, 98.924631776), (-233.68343701, 105.845862315), (-234.993616715, 115.232915232))
                ThreePointArc((-234.993616715, 115.232915232), (-240.356731212, 107.959424354), (-240.158767208, 98.924631776))
            make_face()
        # profile 6 of 12: a face of its own
        with BuildSketch(Plane(origin=(0, 0, 0), x_dir=(-1, 0, 0), z_dir=(0, 0, -1))):
            with BuildLine():
                ThreePointArc((-232.978230566, 91.068101583), (-223.997645443, 90.060253625), (-216.272267555, 94.74909177))
                ThreePointArc((-216.272267555, 94.74909177), (-225.503894125, 96.89627695), (-232.978230566, 91.068101583))
            make_face()
        # profile 7 of 12: a face of its own
        with BuildSketch(Plane(origin=(0, 0, 0), x_dir=(-1, 0, 0), z_dir=(0, 0, -1))):
            with Locations((-239.255071404, 76.116150138)):
                Circle(SKETCH17_R_3)
        # profile 8 of 12: a face of its own
        with BuildSketch(Plane(origin=(0, 0, 0), x_dir=(-1, 0, 0), z_dir=(0, 0, -1))):
            with BuildLine():
                ThreePointArc((-237.633176679, 46.57354964), (-239.345127072, 55.446874413), (-246.121607852, 61.42566818))
                ThreePointArc((-246.121607852, 61.42566818), (-245.422563536, 51.973437206), (-237.633176679, 46.57354964))
            make_face()
        # profile 9 of 12: a face of its own
        with BuildSketch(Plane(origin=(0, 0, 0), x_dir=(-1, 0, 0), z_dir=(0, 0, -1))):
            with BuildLine():
                ThreePointArc((-265.383153079, 46.694990142), (-257.546803091, 52.026495764), (-256.76505671, 61.472246445))
                ThreePointArc((-256.76505671, 61.472246445), (-263.593606182, 55.552991529), (-265.383153079, 46.694990142))
            make_face()
        # profile 10 of 12: a face of its own
        with BuildSketch(Plane(origin=(0, 0, 0), x_dir=(-1, 0, 0), z_dir=(0, 0, -1))):
            with BuildLine():
                ThreePointArc((-260.101766611, 37.454203914), (-251.555816404, 34.500111267), (-242.986582803, 37.385967085))
                ThreePointArc((-242.986582803, 37.385967085), (-242.996583695, 37.389724906), (-243.006586754, 37.393476951))
                ThreePointArc((-243.006586754, 37.393476951), (-251.539696633, 41.500102958), (-260.101766611, 37.454203914))
            make_face()
        # profile 11 of 12: a face of its own
        with BuildSketch(Plane(origin=(0, 0, 0), x_dir=(-1, 0, 0), z_dir=(0, 0, -1))):
            with Locations((-227.010142808, 103.732300275)):
                Circle(SKETCH17_R_3)
        # profile 12 of 12: a face of its own
        with BuildSketch(Plane(origin=(0, 0, 0), x_dir=(-1, 0, 0), z_dir=(0, 0, -1))):
            with Locations((-251.5, 48.5)):
                Circle(SKETCH17_R_3)
        extrude(amount=-BOSS_EXTRUDE9_DEPTH)

    # Sketch17<2> → Cut-Extrude6 (cut)
    with SkipClean():  # the faces are left unmerged after this step: merging them gives an invalid solid
        with BuildSketch(Plane(origin=(0, 0, 0), x_dir=(-1, 0, 0), z_dir=(0, 0, -1))):
            with Locations((-208.024381592, 125.730035402)):
                Circle(SKETCH17_2_R)
            with Locations((-213.103162281, 108.797640807)):
                Circle(SKETCH17_2_R)
            with Locations((-230.035556876, 113.876421496)):
                Circle(SKETCH17_2_R)
            with Locations((-224.956776187, 130.80881609)):
                Circle(SKETCH17_2_R)
            with Locations((-219.029969234, 119.803228449)):
                Circle(SKETCH17_2_R_2)
        extrude(amount=-CUT_EXTRUDE6_DEPTH, mode=Mode.SUBTRACT)

    # Sketch20 → Boss-Extrude11 (add)
    with BuildSketch(Plane(origin=(0, 0, 0), x_dir=(-1, 0, 0), z_dir=(0, 0, -1))):
        with BuildLine():
            ThreePointArc((-233.057835453, 51.301509311), (-255.4977375, 66.712280105), (-268.685055863, 42.897669154))
            Line((-268.685055863, 42.897669154), (-280.11525828, 26.200377698))
            ThreePointArc((-280.11525828, 26.200377698), (-282.794256152, 21.267295299), (-281.200377698, 15.88474172))
            ThreePointArc((-281.200377698, 15.88474172), (-279.248886566, 13.64623287), (-277.139692774, 11.555648966))
            Line((-277.139692774, 11.555648966), (-297.593291101, 8.097255455))
            Line((-297.593291101, 8.097255455), (-251.276353518, -34.342963605))
            Line((-251.276353518, -34.342963605), (-205.80187291, 22.716582118))
            Line((-205.80187291, 22.716582118), (-233.057835453, 51.301509311))
        make_face()
    extrude(amount=-BOSS_EXTRUDE11_DEPTH)

    # Sketch20<3> → Cut-Extrude8 (cut)
    with BuildSketch(Plane(origin=(0, 0, 0), x_dir=(-1, 0, 0), z_dir=(0, 0, -1))):
        with BuildLine():
            Line((-205.80187291, 22.716582118), (-233.057835453, 51.301509311))
            ThreePointArc((-233.057835453, 51.301509311), (-234.401197116, 41.514066989), (-240.616000357, 33.83455734))
            ThreePointArc((-240.616000357, 33.83455734), (-241.993163673, 23.31786387), (-231.40374062, 22.716582118))
            ThreePointArc((-231.40374062, 22.716582118), (-230.264632981, 23.881541463), (-229.200377698, 25.11525828))
            ThreePointArc((-229.200377698, 25.11525828), (-218.88474172, 26.200377698), (-217.799622302, 15.88474172))
            ThreePointArc((-217.799622302, 15.88474172), (-246.532248068, 0.870864736), (-277.139692774, 11.555648966))
            Line((-277.139692774, 11.555648966), (-297.593291101, 8.097255455))
            Line((-297.593291101, 8.097255455), (-251.276353518, -34.342963605))
            Line((-251.276353518, -34.342963605), (-205.80187291, 22.716582118))
        make_face()
    extrude(amount=-CUT_EXTRUDE8_DEPTH, mode=Mode.SUBTRACT)


solid = part_1.part
